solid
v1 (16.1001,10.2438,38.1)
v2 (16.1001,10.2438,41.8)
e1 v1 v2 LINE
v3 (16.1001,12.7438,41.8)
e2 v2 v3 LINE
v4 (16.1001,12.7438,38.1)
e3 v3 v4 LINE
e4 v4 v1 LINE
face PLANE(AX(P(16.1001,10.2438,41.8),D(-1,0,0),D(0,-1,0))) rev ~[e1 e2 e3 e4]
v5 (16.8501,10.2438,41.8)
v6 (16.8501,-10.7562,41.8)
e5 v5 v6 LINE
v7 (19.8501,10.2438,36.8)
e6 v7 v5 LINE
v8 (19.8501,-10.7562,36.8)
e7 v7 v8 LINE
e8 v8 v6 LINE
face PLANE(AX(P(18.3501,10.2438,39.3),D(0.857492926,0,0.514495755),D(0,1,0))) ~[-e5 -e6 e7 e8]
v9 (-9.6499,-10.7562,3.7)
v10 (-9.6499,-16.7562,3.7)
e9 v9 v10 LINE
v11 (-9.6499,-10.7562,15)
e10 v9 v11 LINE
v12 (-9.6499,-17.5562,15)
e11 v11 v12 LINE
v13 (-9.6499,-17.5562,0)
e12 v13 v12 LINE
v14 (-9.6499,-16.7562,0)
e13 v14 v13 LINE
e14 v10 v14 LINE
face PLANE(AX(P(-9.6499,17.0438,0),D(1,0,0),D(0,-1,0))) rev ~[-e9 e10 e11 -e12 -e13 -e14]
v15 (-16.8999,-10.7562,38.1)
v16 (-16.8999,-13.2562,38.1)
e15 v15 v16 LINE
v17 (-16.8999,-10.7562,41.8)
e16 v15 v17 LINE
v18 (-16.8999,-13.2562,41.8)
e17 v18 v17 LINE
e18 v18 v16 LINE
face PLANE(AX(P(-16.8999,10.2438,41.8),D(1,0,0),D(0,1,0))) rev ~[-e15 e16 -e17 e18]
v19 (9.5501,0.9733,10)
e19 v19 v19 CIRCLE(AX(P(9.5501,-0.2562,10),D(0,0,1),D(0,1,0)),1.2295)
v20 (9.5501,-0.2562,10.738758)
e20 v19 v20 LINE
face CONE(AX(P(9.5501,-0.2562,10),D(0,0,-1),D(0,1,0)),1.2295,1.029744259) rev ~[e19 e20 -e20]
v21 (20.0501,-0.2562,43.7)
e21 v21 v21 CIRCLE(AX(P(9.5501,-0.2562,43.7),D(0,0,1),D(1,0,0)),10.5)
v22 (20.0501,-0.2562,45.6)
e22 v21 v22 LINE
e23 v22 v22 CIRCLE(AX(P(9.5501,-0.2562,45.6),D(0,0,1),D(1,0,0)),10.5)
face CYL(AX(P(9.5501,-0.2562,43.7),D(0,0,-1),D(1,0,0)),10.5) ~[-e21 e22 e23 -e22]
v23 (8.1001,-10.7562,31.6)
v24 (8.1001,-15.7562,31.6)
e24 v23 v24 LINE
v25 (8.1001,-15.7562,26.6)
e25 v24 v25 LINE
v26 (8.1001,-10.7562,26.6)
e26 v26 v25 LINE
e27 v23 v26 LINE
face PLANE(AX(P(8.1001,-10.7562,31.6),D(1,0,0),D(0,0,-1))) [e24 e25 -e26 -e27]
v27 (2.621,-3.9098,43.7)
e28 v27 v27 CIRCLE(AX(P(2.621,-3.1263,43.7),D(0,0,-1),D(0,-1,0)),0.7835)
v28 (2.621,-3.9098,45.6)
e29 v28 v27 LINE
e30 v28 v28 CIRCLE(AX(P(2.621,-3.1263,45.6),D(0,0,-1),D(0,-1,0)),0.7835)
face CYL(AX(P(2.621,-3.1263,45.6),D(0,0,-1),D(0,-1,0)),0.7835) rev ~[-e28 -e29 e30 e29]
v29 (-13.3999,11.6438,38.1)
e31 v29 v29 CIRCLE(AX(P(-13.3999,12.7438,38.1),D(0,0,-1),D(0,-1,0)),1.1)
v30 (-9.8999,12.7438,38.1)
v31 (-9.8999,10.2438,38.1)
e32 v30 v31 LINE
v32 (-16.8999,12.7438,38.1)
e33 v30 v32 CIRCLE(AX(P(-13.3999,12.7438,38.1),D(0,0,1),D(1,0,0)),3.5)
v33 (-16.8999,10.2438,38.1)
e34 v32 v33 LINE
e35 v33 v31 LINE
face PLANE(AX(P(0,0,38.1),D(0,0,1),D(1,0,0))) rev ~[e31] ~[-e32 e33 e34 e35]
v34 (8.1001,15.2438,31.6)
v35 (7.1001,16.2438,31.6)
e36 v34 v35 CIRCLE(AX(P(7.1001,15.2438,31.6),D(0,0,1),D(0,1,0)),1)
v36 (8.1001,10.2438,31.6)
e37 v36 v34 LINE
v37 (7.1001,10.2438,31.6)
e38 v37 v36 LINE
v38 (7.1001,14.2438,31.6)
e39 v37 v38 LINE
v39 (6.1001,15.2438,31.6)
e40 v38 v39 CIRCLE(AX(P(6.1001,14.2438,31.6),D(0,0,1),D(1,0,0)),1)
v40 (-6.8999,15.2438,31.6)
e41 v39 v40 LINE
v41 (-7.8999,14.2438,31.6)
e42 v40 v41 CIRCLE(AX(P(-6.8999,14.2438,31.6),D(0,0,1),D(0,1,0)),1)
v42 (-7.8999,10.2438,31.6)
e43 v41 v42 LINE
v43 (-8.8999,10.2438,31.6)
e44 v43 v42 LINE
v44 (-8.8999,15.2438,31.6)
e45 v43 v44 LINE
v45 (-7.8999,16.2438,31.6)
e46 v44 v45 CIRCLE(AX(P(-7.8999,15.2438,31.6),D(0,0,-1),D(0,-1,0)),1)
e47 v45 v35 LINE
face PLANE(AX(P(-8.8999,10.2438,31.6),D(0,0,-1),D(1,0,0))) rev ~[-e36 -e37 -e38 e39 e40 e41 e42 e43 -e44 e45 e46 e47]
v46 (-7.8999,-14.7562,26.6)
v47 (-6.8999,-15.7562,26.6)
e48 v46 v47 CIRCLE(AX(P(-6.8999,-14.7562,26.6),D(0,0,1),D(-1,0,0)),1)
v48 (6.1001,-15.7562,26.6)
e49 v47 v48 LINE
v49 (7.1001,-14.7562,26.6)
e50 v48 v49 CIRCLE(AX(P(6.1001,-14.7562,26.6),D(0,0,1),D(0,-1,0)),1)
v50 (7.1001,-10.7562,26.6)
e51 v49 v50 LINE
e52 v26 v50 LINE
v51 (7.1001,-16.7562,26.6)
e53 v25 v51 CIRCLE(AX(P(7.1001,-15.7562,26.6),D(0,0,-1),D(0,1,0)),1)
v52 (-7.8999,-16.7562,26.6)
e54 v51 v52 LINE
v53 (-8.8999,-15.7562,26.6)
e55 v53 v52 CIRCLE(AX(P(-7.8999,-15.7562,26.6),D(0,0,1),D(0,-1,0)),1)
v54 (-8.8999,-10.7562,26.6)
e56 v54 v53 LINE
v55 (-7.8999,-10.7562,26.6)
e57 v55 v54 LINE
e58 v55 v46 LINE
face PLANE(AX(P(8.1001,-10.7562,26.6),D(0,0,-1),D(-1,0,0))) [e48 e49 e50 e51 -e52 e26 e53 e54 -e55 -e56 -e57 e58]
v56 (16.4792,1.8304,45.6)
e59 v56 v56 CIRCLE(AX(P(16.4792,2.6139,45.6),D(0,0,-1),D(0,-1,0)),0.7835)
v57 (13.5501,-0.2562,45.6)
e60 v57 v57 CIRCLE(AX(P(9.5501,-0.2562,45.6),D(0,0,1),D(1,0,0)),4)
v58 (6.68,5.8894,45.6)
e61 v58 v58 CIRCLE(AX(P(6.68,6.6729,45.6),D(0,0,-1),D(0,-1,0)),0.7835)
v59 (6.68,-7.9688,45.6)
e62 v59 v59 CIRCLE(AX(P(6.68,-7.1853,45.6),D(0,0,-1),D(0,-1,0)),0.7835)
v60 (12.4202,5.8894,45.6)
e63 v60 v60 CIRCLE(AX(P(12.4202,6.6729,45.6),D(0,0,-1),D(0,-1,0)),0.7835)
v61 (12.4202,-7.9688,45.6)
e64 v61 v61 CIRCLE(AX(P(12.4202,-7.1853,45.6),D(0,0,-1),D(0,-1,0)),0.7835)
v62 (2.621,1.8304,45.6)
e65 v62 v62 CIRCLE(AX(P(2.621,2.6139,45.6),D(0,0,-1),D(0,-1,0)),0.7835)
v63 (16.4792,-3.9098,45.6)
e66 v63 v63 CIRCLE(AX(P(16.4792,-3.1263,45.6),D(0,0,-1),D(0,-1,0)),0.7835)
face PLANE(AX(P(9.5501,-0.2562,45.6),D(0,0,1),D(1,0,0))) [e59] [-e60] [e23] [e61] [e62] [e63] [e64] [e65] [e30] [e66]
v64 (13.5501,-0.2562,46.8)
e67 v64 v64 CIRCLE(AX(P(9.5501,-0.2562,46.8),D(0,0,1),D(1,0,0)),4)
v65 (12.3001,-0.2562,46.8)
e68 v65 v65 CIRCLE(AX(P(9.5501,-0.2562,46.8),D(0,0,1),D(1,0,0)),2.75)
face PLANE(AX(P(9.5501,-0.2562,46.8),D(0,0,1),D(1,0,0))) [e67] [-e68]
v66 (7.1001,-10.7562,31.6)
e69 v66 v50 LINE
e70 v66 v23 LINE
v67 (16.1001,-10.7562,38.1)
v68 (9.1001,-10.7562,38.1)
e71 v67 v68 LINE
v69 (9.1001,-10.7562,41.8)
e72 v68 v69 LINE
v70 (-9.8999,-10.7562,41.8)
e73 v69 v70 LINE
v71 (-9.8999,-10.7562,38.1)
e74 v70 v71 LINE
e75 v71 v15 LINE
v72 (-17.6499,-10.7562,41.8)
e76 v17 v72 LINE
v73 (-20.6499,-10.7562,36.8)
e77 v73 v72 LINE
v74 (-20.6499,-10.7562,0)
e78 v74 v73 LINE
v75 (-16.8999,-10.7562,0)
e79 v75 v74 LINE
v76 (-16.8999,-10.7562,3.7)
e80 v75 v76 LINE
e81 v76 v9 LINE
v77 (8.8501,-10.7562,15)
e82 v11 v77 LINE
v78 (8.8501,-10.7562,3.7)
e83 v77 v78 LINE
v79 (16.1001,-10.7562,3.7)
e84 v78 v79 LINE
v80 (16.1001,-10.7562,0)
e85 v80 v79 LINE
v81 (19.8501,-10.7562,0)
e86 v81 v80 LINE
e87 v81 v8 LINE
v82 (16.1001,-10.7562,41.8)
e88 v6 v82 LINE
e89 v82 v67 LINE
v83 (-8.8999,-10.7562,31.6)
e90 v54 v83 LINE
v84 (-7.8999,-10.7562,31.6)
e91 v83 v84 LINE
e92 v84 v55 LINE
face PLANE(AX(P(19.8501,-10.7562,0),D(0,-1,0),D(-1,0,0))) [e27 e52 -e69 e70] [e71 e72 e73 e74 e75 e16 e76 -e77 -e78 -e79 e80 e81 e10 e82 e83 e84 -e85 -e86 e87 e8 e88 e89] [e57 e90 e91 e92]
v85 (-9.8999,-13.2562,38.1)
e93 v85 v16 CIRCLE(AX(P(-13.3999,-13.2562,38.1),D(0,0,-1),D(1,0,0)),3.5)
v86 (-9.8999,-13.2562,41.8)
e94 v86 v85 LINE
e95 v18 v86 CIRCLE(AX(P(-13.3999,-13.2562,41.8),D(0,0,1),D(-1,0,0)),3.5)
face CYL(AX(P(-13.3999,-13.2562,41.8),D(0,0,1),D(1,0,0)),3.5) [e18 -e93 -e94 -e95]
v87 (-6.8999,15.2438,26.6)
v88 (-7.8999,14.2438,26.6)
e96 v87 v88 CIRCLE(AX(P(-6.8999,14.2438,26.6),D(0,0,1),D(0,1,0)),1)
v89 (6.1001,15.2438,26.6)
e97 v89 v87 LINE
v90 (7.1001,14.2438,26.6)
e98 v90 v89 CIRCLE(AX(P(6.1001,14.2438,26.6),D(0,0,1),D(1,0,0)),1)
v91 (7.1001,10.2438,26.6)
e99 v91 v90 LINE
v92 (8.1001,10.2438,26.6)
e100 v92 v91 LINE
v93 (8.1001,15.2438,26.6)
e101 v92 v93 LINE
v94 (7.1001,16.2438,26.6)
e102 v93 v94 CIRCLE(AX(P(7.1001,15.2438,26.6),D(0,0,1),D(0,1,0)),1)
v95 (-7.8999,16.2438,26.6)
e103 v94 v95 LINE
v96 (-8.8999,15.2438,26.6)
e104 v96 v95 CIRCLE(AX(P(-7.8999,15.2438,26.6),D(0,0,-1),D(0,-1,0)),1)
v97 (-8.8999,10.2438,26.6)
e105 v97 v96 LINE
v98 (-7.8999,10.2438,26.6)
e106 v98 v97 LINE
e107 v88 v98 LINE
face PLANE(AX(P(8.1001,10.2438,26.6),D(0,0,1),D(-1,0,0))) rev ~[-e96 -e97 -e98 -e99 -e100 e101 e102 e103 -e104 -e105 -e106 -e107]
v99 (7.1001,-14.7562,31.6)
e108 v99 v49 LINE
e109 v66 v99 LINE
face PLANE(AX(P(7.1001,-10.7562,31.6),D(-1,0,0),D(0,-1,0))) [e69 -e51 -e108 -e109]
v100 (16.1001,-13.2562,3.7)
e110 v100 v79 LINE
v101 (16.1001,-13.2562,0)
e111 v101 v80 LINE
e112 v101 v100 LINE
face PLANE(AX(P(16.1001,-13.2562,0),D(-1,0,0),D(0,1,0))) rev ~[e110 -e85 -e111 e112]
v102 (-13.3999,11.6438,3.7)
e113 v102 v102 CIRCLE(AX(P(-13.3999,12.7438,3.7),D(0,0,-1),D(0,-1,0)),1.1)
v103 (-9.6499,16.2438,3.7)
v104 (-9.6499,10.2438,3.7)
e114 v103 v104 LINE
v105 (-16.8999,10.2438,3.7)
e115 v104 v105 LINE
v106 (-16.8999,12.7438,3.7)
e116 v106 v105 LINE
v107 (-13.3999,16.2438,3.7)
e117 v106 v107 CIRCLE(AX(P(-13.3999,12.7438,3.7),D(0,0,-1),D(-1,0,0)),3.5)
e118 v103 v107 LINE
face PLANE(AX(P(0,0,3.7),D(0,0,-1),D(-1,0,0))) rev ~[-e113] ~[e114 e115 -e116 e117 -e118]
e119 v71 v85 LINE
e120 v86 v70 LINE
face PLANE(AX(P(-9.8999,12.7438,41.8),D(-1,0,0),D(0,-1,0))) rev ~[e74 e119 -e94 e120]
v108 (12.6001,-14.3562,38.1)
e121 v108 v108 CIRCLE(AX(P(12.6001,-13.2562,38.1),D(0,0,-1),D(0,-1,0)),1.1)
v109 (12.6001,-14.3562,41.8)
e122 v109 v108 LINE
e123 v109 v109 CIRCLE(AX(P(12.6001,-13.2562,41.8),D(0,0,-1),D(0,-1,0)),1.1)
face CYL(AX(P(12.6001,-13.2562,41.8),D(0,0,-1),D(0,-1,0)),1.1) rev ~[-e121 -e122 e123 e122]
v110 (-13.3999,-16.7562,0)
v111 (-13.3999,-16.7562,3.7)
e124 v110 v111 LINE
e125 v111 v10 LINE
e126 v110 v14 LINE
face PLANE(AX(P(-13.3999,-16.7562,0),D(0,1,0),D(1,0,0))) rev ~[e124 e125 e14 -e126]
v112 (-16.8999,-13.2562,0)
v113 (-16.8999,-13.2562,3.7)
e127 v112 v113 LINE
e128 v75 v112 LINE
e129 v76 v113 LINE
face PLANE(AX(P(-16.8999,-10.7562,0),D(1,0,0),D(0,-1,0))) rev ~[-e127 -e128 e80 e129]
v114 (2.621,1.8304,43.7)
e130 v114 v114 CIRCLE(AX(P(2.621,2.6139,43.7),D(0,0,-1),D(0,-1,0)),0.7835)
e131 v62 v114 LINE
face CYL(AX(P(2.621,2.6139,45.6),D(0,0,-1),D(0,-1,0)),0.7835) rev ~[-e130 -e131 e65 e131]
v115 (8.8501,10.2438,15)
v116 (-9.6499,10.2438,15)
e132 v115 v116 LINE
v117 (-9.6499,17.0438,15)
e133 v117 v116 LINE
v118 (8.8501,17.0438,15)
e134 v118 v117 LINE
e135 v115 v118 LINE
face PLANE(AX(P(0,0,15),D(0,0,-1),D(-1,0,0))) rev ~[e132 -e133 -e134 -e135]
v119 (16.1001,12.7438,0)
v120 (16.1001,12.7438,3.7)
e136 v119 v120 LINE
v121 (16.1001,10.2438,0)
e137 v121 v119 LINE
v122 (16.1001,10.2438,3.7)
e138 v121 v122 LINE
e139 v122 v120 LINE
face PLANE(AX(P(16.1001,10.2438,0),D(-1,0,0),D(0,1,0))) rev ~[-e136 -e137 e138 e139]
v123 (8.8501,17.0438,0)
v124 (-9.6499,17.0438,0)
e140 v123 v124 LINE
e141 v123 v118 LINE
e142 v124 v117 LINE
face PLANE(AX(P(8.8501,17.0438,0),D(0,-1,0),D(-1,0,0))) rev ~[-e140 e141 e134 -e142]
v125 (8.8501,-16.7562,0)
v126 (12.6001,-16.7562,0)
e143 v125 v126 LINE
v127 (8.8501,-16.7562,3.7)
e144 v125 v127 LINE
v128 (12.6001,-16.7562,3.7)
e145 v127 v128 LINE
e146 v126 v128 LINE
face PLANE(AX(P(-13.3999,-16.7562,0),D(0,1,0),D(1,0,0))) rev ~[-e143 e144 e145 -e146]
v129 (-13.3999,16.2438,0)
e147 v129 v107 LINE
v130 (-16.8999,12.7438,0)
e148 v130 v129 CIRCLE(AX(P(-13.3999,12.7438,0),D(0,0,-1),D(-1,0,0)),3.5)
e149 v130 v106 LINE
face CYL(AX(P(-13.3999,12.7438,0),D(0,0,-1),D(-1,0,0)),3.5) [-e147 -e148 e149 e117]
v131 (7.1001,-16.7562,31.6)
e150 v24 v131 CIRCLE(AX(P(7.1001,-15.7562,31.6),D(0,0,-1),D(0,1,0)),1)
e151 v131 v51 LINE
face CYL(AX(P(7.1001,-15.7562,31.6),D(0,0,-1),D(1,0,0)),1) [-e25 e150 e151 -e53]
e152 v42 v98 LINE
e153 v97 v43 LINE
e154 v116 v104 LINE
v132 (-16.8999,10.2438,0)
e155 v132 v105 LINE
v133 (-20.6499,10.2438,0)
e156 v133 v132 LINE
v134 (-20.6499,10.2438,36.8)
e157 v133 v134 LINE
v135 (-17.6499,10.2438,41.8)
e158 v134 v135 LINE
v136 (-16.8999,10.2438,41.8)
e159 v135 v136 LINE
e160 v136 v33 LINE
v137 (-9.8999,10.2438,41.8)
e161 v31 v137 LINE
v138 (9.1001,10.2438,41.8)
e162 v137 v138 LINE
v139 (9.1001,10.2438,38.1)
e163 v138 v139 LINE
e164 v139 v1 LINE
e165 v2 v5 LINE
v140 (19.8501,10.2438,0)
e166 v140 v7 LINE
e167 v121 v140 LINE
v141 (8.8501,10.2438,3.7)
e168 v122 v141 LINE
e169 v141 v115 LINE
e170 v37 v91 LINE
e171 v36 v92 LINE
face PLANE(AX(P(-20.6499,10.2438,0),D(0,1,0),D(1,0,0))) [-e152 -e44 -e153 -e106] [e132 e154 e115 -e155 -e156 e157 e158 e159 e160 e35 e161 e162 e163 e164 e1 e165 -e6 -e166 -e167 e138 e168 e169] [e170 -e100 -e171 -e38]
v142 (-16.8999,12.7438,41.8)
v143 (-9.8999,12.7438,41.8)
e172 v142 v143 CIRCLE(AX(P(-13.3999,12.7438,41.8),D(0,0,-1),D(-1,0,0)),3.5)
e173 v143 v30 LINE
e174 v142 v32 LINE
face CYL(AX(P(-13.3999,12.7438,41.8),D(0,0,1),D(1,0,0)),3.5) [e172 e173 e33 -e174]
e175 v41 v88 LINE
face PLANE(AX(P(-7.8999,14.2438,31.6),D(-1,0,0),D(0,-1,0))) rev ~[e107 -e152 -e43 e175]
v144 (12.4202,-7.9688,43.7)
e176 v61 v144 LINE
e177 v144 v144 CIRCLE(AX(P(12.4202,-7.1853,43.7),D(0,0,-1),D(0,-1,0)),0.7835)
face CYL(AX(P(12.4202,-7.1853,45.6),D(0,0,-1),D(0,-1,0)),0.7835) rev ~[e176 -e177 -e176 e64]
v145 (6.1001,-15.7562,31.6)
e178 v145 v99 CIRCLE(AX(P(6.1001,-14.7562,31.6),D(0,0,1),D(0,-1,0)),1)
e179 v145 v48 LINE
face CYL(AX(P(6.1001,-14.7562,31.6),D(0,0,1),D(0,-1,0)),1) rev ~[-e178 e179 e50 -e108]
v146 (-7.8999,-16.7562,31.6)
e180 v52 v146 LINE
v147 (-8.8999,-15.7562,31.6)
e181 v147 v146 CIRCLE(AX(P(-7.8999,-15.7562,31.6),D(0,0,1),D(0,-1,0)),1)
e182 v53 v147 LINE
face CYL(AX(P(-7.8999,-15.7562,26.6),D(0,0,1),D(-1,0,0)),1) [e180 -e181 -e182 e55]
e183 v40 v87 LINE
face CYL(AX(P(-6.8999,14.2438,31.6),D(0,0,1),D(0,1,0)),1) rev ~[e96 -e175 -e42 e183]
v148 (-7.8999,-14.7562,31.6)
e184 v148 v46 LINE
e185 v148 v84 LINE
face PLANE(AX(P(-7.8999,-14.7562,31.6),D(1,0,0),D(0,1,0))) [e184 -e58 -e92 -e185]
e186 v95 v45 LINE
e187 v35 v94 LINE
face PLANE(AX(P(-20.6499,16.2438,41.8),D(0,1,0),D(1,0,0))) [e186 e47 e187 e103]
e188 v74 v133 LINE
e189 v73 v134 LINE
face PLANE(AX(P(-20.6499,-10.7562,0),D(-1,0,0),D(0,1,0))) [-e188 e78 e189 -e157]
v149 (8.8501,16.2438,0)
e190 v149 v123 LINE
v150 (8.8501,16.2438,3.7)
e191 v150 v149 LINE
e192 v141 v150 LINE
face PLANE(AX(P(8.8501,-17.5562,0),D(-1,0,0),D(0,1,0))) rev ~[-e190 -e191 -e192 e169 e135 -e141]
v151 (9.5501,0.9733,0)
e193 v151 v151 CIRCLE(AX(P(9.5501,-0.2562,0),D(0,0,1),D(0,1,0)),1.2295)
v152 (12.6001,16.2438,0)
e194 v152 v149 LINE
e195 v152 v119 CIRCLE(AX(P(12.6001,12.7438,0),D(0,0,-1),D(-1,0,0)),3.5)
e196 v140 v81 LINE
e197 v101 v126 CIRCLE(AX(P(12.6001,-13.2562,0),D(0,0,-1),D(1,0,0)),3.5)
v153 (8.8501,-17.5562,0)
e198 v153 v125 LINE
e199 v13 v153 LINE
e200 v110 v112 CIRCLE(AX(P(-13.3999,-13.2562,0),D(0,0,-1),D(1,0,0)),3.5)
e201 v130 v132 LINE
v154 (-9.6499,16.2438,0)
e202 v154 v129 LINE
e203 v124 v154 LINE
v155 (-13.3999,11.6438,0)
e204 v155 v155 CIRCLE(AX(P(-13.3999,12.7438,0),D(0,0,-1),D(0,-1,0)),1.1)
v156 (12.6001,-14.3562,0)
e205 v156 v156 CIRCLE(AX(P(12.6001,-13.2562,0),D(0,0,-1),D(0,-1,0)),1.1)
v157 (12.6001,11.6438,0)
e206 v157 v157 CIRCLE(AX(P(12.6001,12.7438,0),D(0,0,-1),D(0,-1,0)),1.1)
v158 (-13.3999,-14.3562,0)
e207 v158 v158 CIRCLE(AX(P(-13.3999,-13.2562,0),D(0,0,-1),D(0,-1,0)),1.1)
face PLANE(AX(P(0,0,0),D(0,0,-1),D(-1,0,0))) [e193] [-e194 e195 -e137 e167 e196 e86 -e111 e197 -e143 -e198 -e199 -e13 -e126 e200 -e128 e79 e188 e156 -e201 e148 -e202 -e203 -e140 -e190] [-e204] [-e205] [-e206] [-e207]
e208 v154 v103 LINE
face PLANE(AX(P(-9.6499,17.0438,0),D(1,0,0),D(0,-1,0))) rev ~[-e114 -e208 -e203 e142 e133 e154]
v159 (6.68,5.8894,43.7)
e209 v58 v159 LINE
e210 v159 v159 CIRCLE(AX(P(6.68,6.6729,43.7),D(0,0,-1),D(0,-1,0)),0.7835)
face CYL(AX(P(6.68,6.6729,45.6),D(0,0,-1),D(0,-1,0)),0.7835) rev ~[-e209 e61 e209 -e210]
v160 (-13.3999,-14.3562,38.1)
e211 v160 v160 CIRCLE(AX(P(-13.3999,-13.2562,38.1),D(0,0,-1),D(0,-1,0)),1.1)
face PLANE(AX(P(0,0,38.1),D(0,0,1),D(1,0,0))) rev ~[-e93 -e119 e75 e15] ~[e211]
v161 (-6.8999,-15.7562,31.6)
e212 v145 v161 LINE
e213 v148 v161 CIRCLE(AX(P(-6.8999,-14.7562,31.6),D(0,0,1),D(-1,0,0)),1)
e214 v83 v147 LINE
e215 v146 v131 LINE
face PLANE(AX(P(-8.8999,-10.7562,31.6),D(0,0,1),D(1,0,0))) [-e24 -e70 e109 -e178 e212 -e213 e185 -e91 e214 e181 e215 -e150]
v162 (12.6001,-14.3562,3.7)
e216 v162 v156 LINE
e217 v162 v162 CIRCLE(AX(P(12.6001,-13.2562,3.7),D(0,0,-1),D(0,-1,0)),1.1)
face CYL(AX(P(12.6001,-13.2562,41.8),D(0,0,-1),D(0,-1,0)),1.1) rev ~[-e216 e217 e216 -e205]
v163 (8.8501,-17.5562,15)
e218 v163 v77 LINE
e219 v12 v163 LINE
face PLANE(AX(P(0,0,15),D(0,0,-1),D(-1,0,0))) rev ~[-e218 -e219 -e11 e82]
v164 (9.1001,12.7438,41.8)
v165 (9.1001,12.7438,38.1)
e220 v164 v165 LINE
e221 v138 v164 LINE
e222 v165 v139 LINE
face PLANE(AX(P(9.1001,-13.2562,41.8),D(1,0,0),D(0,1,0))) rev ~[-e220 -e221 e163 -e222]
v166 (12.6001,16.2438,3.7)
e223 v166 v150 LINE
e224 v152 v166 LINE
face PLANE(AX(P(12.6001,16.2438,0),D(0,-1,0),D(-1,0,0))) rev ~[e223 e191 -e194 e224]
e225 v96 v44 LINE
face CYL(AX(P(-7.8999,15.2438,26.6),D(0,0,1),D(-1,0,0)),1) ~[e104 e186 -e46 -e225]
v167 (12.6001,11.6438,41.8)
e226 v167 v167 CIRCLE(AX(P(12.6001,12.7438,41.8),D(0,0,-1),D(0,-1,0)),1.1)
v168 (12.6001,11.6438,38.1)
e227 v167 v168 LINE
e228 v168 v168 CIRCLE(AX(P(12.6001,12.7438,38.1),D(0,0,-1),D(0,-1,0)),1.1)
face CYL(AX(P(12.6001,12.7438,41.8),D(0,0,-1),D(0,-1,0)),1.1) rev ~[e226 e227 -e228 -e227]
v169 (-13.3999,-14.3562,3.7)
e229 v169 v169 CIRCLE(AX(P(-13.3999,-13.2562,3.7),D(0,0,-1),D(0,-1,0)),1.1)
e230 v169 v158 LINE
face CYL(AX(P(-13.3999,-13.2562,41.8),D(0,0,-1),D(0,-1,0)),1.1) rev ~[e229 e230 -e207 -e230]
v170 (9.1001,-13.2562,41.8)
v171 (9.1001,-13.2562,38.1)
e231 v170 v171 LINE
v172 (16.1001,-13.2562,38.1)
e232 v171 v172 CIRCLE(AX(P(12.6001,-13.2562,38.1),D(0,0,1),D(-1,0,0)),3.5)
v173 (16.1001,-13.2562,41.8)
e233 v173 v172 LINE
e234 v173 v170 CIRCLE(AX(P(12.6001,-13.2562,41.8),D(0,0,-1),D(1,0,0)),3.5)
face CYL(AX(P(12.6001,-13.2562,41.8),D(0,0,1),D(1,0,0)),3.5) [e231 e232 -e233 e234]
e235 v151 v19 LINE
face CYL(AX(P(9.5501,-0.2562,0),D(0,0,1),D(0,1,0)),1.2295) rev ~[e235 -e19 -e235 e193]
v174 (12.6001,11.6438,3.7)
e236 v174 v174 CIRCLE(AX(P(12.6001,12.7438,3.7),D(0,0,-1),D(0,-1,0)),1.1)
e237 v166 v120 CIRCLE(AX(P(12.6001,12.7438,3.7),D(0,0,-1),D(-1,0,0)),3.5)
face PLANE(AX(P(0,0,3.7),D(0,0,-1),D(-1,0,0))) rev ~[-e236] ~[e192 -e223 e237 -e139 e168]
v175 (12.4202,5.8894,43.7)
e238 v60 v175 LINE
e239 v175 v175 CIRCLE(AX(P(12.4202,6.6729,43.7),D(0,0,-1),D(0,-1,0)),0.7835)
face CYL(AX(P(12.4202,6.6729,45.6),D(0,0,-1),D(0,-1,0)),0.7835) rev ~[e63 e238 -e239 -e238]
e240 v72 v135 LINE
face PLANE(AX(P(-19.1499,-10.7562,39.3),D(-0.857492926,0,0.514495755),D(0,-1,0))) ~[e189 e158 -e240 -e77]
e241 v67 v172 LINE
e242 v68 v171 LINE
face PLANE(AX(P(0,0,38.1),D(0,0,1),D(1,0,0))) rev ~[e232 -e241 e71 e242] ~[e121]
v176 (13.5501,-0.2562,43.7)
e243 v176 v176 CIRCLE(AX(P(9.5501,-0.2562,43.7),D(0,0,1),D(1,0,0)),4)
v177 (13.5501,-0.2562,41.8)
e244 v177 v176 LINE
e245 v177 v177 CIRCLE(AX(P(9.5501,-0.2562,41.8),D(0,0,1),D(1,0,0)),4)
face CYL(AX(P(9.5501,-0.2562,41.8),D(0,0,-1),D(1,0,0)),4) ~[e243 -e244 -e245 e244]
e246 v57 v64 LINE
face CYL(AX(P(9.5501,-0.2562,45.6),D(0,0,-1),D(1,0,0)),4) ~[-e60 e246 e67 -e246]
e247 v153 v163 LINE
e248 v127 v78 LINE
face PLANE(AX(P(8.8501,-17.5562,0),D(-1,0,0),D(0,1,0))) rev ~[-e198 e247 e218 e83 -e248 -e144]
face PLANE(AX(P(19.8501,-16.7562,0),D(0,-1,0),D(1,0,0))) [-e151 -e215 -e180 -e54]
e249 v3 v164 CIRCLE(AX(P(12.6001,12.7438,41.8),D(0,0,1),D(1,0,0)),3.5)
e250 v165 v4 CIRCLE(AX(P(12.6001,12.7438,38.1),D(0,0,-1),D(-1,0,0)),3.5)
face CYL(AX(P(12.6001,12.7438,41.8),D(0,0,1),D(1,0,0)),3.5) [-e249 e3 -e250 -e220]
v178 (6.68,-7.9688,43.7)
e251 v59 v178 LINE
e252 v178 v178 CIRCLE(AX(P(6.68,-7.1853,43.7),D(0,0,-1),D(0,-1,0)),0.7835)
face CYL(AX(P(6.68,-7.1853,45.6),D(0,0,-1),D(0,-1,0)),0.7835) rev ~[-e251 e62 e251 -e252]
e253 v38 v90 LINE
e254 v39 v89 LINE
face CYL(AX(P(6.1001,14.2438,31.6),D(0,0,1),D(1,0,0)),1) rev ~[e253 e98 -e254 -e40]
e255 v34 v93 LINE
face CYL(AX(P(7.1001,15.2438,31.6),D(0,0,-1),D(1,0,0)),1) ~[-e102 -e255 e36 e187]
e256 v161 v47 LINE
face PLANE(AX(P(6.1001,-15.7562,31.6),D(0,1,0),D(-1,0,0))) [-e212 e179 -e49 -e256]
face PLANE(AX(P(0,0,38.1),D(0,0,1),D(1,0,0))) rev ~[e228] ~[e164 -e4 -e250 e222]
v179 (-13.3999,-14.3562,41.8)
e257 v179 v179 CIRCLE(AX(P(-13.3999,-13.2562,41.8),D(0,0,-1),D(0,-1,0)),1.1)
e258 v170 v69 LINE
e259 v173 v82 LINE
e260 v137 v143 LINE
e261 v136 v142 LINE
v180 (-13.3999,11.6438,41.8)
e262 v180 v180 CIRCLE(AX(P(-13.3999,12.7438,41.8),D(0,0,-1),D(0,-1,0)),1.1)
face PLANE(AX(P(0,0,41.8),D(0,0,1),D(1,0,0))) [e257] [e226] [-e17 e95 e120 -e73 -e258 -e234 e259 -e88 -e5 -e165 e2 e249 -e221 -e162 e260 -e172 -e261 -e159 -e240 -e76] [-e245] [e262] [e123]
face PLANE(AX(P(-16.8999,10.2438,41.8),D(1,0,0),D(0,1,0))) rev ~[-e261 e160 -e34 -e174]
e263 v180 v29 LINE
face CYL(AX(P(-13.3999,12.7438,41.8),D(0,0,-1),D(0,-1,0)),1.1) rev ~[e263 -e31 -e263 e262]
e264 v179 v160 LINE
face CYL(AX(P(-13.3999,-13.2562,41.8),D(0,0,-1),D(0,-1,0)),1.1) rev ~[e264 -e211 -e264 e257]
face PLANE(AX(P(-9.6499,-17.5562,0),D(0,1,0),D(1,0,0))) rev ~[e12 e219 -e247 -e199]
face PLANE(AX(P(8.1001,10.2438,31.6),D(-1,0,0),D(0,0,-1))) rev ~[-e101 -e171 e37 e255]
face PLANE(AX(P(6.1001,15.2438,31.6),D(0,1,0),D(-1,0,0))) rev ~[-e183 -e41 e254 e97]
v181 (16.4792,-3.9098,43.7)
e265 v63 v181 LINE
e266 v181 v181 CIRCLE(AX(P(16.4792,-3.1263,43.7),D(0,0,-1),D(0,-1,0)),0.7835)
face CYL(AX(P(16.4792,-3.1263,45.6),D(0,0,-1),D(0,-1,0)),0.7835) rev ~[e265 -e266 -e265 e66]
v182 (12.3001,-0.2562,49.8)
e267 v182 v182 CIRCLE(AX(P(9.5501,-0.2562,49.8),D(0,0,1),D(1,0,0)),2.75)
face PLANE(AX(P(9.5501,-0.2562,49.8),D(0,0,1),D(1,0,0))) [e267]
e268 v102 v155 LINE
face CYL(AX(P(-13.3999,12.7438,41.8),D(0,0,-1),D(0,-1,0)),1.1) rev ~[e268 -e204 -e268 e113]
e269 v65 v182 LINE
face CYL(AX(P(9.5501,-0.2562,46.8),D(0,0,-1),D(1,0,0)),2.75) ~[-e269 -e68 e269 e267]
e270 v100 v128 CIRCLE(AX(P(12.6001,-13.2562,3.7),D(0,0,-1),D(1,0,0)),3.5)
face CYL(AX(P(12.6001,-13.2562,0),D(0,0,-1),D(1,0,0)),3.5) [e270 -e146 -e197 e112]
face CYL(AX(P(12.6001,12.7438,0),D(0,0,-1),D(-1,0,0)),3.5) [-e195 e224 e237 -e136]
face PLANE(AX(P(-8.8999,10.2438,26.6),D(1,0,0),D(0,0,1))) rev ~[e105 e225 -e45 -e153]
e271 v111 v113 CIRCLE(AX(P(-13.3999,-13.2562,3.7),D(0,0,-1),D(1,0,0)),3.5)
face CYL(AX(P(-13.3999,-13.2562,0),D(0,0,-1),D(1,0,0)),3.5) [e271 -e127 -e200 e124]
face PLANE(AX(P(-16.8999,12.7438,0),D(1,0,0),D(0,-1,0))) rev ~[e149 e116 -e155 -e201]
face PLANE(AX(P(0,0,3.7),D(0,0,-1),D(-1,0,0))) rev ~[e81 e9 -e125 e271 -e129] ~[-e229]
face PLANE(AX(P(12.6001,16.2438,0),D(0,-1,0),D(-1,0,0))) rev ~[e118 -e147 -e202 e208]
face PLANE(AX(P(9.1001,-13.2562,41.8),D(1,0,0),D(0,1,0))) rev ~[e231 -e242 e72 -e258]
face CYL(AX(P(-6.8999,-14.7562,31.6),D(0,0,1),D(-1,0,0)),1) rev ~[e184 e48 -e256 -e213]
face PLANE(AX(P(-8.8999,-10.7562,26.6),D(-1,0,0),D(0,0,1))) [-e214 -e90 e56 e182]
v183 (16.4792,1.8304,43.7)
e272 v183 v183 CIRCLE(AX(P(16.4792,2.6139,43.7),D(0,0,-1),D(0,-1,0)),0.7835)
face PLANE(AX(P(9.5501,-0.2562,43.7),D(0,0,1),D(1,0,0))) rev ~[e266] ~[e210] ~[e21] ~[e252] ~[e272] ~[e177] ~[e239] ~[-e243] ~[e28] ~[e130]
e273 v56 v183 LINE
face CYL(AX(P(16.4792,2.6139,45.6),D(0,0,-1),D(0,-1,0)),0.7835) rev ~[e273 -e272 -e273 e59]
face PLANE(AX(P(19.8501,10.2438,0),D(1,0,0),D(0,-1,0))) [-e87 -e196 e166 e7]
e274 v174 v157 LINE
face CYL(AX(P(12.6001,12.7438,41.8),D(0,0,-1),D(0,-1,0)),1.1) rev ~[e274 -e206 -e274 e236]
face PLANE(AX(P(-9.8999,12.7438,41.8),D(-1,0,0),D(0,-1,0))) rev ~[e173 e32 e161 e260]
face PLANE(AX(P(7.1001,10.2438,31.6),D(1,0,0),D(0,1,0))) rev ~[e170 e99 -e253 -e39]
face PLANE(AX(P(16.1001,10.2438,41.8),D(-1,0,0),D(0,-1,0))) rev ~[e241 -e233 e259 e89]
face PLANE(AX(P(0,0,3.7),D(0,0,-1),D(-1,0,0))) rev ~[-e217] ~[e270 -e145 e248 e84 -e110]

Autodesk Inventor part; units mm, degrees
ref_plane "YZ Plane" through (0, 0, 0) normal (1, 0, 0) x (0, 1, 0)
ref_plane "XZ Plane" through (0, 0, 0) normal (0, 1, 0) x (-1, 0, 0)
ref_plane "XY Plane" through (0, 0, 0) normal (0, 0, 1) x (1, 0, 0)
sketch "スケッチ1" plane through (0, 0, 0) normal (0, 0, 1) x (1, 0, 0)
  line L0 (-20.6499, 10.2438) -> (19.8501, 10.2438)
  line L1 (19.8501, 10.2438) -> (19.8501, -10.7562)
  line L2 (19.8501, -10.7562) -> (-20.6499, -10.7562)
  line L3 (-20.6499, -10.7562) -> (-20.6499, 10.2438)
  dimension "d0" = 21
  dimension "d1" = 40.5
extrude "押し出し1" add sketch "スケッチ1" along normal blind 41.8
sketch "スケッチ2" plane through (0, 0, 41.8) normal (0, 0, 1) x (1, 0, 0)
  line L0 (-20.6499, 10.2438) -> (19.8501, 10.2438) projected
  line L1 (-20.6499, -10.7562) -> (-20.6499, 10.2438) projected
  line L2 (-13.3999, 16.2438) -> (12.6001, 16.2438)
  line L3 (12.6001, 16.2438) -> (12.6001, -16.7562)
  line L4 (12.6001, -16.7562) -> (-13.3999, -16.7562)
  line L5 (-13.3999, -16.7562) -> (-13.3999, 16.2438)
  line L6 (-13.3999, 12.7438) -> (12.6001, 12.7438)
  line L7 (12.6001, 12.7438) -> (12.6001, -13.2562)
  line L8 (12.6001, -13.2562) -> (-13.3999, -13.2562)
  line L9 (-13.3999, -13.2562) -> (-13.3999, 12.7438)
  circle A0 centre (-13.3999, 12.7438) radius 3.5
  circle A1 centre (-13.3999, -13.2562) radius 3.5
  circle A2 centre (12.6001, -13.2562) radius 3.5
  circle A3 centre (12.6001, 12.7438) radius 3.5
  line L10 (-16.8999, 12.7438) -> (-9.8999, 12.7438)
  line L11 (-9.8999, 12.7438) -> (-9.8999, -13.2562)
  line L12 (-9.8999, -13.2562) -> (-16.8999, -13.2562)
  line L13 (-16.8999, -13.2562) -> (-16.8999, 12.7438)
  line L14 (9.1001, 12.7438) -> (16.1001, 12.7438)
  line L15 (16.1001, 12.7438) -> (16.1001, -13.2562)
  line L16 (16.1001, -13.2562) -> (9.1001, -13.2562)
  line L17 (9.1001, -13.2562) -> (9.1001, 12.7438)
  dimension "d4" = 6
  dimension "d5" = 33
  dimension "d6" = 26
  dimension "d7" = 7.25
  dimension "d8" = 26
  dimension "d9" = 2.5
  dimension "d10" = 26
  dimension "d11" = 7
  dimension "d12" = 7
  dimension "d13" = 7
  dimension "d14" = 7
extrude "押し出し2" add sketch "スケッチ2" against normal blind 3.7 contours L13 A0 L0 | L0 A0 L5 A1 L13 | A0 L10 L5 L0 | L0 L5 A0 | L12 L5 A1 | A1 L5 L12 | A0 L5 L10 | L5 L6 A0 L0 | L0 A0 L5 | A0 L0 L11 A1 L5 | L5 L8 A1 | A1 L8 L5 | A0 L6 L5 | A0 L11 L0 | A2 L8 L3 | L3 L16 A2 | A3 L14 L3 | L3 L6 A3 | L8 A2 L3 | L3 A2 L16 | L17 L0 A3 L3 A2 | A2 L3 A3 L0 L15 | L14 A3 L0 L3 | L3 L0 A3 L6 | L15 L0 A3 | A3 L0 L17 | L3 A3 L0 | L0 A3 L3
sketch "スケッチ3" plane through (0, 0, 41.8) normal (0, 0, 1) x (1, 0, 0)
  line L0 (-20.6499, -10.7562) -> (-20.6499, 10.2438) projected
  line L1 (-9.8999, 10.2438) -> (9.1001, 10.2438) projected
  circle A0 centre (9.5501, -0.2562) radius 4
  dimension "d17" = 10.5
  dimension "d18" = 30.2
  dimension "d19" = 8
extrude "押し出し3" add sketch "スケッチ3" along normal blind 1.9
sketch "スケッチ4" plane through (9.5501, -0.2562, 43.7) normal (0, 0, 1) x (1, 0, 0)
  circle A0 centre (0, 0) radius 4 projected
  circle A1 centre (0, 0) radius 10.5
  dimension "d22" = 21
extrude "押し出し4" add sketch "スケッチ4" along normal blind 1.9 contours A0 | A1
sketch "スケッチ5" plane through (9.5501, -0.2562, 45.6) normal (0, 0, 1) x (1, 0, 0)
  circle A0 centre (0, 0) radius 10.5 projected
  circle A1 centre (0, 0) radius 4
  dimension "d25" = 8
extrude "押し出し5" add sketch "スケッチ5" along normal blind 1.2 contours A1
sketch "スケッチ6" plane through (9.5501, -0.2562, 46.8) normal (0, 0, 1) x (1, 0, 0)
  circle A0 centre (0, 0) radius 4 projected
  circle A1 centre (0, 0) radius 2.75
  dimension "d28" = 5.5
extrude "押し出し6" add sketch "スケッチ6" along normal blind 3 contours A1
sketch "スケッチ7" plane through (0, 0, 0) normal (0, 0, -1) x (-1, 0, 0)
  line L0 (9.8999, -10.7562) -> (16.8999, -10.7562) projected
  line L1 (9.8999, -13.2562) -> (9.8999, -10.7562) projected
  arc A0 (9.8999, -13.2562) -> (16.8999, -13.2562) centre (13.3999, -13.2562) ccw projected
  line L2 (16.8999, -10.7562) -> (16.8999, -13.2562) projected
  line L3 (16.8999, 10.2438) -> (9.8999, 10.2438) projected
  line L4 (16.8999, 12.7438) -> (16.8999, 10.2438) projected
  arc A1 (16.8999, 12.7438) -> (9.8999, 12.7438) centre (13.3999, 12.7438) ccw projected
  line L5 (9.8999, 10.2438) -> (9.8999, 12.7438) projected
  line L6 (-9.1001, 10.2438) -> (-16.1001, 10.2438) projected
  line L7 (-9.1001, 12.7438) -> (-9.1001, 10.2438) projected
  arc A2 (-9.1001, 12.7438) -> (-16.1001, 12.7438) centre (-12.6001, 12.7438) ccw projected
  line L8 (-16.1001, 10.2438) -> (-16.1001, 12.7438) projected
  line L9 (-16.1001, -10.7562) -> (-9.1001, -10.7562) projected
  line L10 (-16.1001, -13.2562) -> (-16.1001, -10.7562) projected
  arc A3 (-16.1001, -13.2562) -> (-9.1001, -13.2562) centre (-12.6001, -13.2562) ccw projected
  line L11 (-9.1001, -10.7562) -> (-9.1001, -13.2562) projected
  line L12 (13.3999, -16.7562) -> (-12.6001, -16.7562)
  line L13 (-12.6001, -16.7562) -> (-12.6001, 16.2438)
  line L14 (-12.6001, 16.2438) -> (13.3999, 16.2438)
  line L15 (13.3999, 16.2438) -> (13.3999, -16.7562)
extrude "押し出し7" add sketch "スケッチ7" against normal blind 3.7
sketch "スケッチ8" plane through (0, 0, 0) normal (0, 0, -1) x (-1, 0, 0)
  line L0 (16.8999, -10.7562) -> (20.6499, -10.7562) projected
  line L1 (20.6499, -10.7562) -> (20.6499, 10.2438) projected
  line L2 (9.6499, -17.5562) -> (-8.8501, -17.5562)
  line L3 (-8.8501, -17.5562) -> (-8.8501, 17.0438)
  line L4 (-8.8501, 17.0438) -> (9.6499, 17.0438)
  line L5 (9.6499, 17.0438) -> (9.6499, -17.5562)
  dimension "d33" = 34.6
  dimension "d34" = 6.8
  dimension "d35" = 11
  dimension "d36" = 18.5
extrude "押し出し8" add sketch "スケッチ8" against normal blind 15
sketch "スケッチ9" plane through (19.8501, -10.7562, 0) normal (0, -1, 0) x (1, 0, 0)
  line L0 (-40.5, 0) -> (-40.5, 41.8) projected
  line L1 (-36.75, 0) -> (-40.5, 0) projected
  line L2 (-28.75, 31.6) -> (-11.75, 31.6)
  line L3 (-11.75, 31.6) -> (-11.75, 26.6)
  line L4 (-11.75, 26.6) -> (-28.75, 26.6)
  line L5 (-28.75, 26.6) -> (-28.75, 31.6)
  dimension "d39" = 26.6
  dimension "d40" = 5
  dimension "d41" = 11.75
  dimension "d42" = 17
extrude "押し出し9" add sketch "スケッチ9" along normal blind 6
sketch "スケッチ10" plane through (-20.6499, 10.2438, 41.8) normal (0, 1, 0) x (1, 0, 0)
  line L0 (28.75, 10.2) -> (28.75, 15.2) projected
  line L1 (11.75, 10.2) -> (28.75, 10.2) projected
  line L2 (11.75, 15.2) -> (11.75, 10.2) projected
  line L3 (28.75, 15.2) -> (11.75, 15.2) projected
extrude "押し出し10" add sketch "スケッチ10" along normal blind 6
fillet "フィレット1" radius 1 4 edges at (8.1001, -16.7562, 29.1) (-8.8999, -16.7562, 29.1) (8.1001, 16.2438, 29.1) (-8.8999, 16.2438, 29.1)
sketch "スケッチ11" plane through (-8.8999, -10.7562, 31.6) normal (0, 0, 1) x (1, 0, 0)
  line L0 (1, -6) -> (16, -6) projected
  line L1 (0, 0) -> (17, 0) projected
  line L2 (0, 0) -> (0, -5) projected
  line L3 (1, 0) -> (16, 0)
  line L4 (16, 0) -> (16, -4)
  line L5 (15, -5) -> (2, -5)
  line L6 (1, -4) -> (1, 0)
  line L7 (17, 0) -> (17, -5) projected
  arc A0 (1, -4) -> (2, -5) centre (2, -4) ccw
  arc A1 (15, -5) -> (16, -4) centre (15, -4) ccw
  arc A2 (17, 26) -> (16, 27) centre (16, 26) ccw projected
  line L8 (16, 27) -> (1, 27) projected
  arc A3 (1, 27) -> (0, 26) centre (1, 26) ccw projected
  line L9 (0, 21) -> (0, 26) projected
  line L10 (17, 21) -> (0, 21) projected
  line L11 (17, 21) -> (17, 26) projected
  line L12 (1, 21) -> (16, 21)
  line L13 (16, 21) -> (16, 25)
  line L14 (15, 26) -> (2, 26)
  line L15 (1, 25) -> (1, 21)
  arc A4 (2, 26) -> (1, 25) centre (2, 25) ccw
  arc A5 (16, 25) -> (15, 26) centre (15, 25) ccw
  dimension "d48" = 1
  dimension "d49" = 1
  dimension "d50" = 1
  dimension "d51" = 1
  dimension "d52" = 1
  dimension "d53" = 1
extrude "押し出し11" cut sketch "スケッチ11" against normal blind 6 contours L1 L4 A1 L5 A0 L6 | L10 L15 A4 L14 A5 L13
sketch "スケッチ12" plane through (0, 0, 41.8) normal (0, 0, 1) x (1, 0, 0)
  arc A0 (-16.8999, -13.2562) -> (-9.8999, -13.2562) centre (-13.3999, -13.2562) ccw projected
  arc A1 (9.1001, -13.2562) -> (16.1001, -13.2562) centre (12.6001, -13.2562) ccw projected
  arc A2 (16.1001, 12.7438) -> (9.1001, 12.7438) centre (12.6001, 12.7438) ccw projected
  arc A3 (-9.8999, 12.7438) -> (-16.8999, 12.7438) centre (-13.3999, 12.7438) ccw projected
hole "穴1" at (-13.3999, 12.7438, 41.8) at (12.6001, 12.7438, 41.8) at (12.6001, -13.2562, 41.8) at (-13.3999, -13.2562, 41.8) direction (0, 0, -1) diameter 2.2 depth 100 tip angle 118
chamfer "面取り1" distance 5 distance2 3 1 edges at (-20.6499, -0.2562, 41.8) measured on face at (-20.6499, -3.7562, 13.9333)
chamfer "面取り2" distance 5 distance2 3 1 edges at (19.8501, -0.2562, 41.8) measured on face at (19.8501, 3.2438, 13.9333)
sketch "スケッチ13" plane through (0, 0, 0) normal (0, 0, -1) x (-1, 0, 0)
  circle A0 centre (-9.5501, -0.2562) radius 4 projected
hole "穴2" at (9.5501, -0.2562, 0) direction (0, 0, 1) diameter 2.459 depth 10 tip angle 118 thread size "M3x0.5" class "6H" standard "ANSI Metric M Profile"
sketch "スケッチ14" plane through (9.5501, -0.2562, 45.6) normal (0, 0, 1) x (1, 0, 0)
  circle A0 centre (0, 0) radius 4 projected
  circle A1 centre (0, 0) radius 2.75 projected
  circle A2 centre (0, 0) radius 7.5
  line L0 (0, 0) -> (7.5, 0)
  line L1 (0, 0) -> (6.9291, 2.8701)
  point P0 (2.8701, 6.9291)
  point P1 (-2.8701, 6.9291)
  point P2 (-6.9291, 2.8701)
  point P3 (-6.9291, -2.8701)
  point P4 (-2.8701, -6.9291)
  point P5 (2.8701, -6.9291)
  point P6 (6.9291, -2.8701)
  dimension "d76" = 15
  dimension "d77" = 22.5
  dimension "d80" = 360
hole "穴3" at (16.4792, 2.6139, 45.6) at (12.4202, 6.6729, 45.6) at (6.68, 6.6729, 45.6) at (2.621, 2.6139, 45.6) at (2.621, -3.1263, 45.6) at (6.68, -7.1853, 45.6) at (12.4202, -7.1853, 45.6) at (16.4792, -3.1263, 45.6) direction (0, 0, -1) diameter 1.567 depth 2 tip angle 118 thread size "M2x0.4" class "6H" standard "ANSI Metric M Profile"
properties part number "rs405"
